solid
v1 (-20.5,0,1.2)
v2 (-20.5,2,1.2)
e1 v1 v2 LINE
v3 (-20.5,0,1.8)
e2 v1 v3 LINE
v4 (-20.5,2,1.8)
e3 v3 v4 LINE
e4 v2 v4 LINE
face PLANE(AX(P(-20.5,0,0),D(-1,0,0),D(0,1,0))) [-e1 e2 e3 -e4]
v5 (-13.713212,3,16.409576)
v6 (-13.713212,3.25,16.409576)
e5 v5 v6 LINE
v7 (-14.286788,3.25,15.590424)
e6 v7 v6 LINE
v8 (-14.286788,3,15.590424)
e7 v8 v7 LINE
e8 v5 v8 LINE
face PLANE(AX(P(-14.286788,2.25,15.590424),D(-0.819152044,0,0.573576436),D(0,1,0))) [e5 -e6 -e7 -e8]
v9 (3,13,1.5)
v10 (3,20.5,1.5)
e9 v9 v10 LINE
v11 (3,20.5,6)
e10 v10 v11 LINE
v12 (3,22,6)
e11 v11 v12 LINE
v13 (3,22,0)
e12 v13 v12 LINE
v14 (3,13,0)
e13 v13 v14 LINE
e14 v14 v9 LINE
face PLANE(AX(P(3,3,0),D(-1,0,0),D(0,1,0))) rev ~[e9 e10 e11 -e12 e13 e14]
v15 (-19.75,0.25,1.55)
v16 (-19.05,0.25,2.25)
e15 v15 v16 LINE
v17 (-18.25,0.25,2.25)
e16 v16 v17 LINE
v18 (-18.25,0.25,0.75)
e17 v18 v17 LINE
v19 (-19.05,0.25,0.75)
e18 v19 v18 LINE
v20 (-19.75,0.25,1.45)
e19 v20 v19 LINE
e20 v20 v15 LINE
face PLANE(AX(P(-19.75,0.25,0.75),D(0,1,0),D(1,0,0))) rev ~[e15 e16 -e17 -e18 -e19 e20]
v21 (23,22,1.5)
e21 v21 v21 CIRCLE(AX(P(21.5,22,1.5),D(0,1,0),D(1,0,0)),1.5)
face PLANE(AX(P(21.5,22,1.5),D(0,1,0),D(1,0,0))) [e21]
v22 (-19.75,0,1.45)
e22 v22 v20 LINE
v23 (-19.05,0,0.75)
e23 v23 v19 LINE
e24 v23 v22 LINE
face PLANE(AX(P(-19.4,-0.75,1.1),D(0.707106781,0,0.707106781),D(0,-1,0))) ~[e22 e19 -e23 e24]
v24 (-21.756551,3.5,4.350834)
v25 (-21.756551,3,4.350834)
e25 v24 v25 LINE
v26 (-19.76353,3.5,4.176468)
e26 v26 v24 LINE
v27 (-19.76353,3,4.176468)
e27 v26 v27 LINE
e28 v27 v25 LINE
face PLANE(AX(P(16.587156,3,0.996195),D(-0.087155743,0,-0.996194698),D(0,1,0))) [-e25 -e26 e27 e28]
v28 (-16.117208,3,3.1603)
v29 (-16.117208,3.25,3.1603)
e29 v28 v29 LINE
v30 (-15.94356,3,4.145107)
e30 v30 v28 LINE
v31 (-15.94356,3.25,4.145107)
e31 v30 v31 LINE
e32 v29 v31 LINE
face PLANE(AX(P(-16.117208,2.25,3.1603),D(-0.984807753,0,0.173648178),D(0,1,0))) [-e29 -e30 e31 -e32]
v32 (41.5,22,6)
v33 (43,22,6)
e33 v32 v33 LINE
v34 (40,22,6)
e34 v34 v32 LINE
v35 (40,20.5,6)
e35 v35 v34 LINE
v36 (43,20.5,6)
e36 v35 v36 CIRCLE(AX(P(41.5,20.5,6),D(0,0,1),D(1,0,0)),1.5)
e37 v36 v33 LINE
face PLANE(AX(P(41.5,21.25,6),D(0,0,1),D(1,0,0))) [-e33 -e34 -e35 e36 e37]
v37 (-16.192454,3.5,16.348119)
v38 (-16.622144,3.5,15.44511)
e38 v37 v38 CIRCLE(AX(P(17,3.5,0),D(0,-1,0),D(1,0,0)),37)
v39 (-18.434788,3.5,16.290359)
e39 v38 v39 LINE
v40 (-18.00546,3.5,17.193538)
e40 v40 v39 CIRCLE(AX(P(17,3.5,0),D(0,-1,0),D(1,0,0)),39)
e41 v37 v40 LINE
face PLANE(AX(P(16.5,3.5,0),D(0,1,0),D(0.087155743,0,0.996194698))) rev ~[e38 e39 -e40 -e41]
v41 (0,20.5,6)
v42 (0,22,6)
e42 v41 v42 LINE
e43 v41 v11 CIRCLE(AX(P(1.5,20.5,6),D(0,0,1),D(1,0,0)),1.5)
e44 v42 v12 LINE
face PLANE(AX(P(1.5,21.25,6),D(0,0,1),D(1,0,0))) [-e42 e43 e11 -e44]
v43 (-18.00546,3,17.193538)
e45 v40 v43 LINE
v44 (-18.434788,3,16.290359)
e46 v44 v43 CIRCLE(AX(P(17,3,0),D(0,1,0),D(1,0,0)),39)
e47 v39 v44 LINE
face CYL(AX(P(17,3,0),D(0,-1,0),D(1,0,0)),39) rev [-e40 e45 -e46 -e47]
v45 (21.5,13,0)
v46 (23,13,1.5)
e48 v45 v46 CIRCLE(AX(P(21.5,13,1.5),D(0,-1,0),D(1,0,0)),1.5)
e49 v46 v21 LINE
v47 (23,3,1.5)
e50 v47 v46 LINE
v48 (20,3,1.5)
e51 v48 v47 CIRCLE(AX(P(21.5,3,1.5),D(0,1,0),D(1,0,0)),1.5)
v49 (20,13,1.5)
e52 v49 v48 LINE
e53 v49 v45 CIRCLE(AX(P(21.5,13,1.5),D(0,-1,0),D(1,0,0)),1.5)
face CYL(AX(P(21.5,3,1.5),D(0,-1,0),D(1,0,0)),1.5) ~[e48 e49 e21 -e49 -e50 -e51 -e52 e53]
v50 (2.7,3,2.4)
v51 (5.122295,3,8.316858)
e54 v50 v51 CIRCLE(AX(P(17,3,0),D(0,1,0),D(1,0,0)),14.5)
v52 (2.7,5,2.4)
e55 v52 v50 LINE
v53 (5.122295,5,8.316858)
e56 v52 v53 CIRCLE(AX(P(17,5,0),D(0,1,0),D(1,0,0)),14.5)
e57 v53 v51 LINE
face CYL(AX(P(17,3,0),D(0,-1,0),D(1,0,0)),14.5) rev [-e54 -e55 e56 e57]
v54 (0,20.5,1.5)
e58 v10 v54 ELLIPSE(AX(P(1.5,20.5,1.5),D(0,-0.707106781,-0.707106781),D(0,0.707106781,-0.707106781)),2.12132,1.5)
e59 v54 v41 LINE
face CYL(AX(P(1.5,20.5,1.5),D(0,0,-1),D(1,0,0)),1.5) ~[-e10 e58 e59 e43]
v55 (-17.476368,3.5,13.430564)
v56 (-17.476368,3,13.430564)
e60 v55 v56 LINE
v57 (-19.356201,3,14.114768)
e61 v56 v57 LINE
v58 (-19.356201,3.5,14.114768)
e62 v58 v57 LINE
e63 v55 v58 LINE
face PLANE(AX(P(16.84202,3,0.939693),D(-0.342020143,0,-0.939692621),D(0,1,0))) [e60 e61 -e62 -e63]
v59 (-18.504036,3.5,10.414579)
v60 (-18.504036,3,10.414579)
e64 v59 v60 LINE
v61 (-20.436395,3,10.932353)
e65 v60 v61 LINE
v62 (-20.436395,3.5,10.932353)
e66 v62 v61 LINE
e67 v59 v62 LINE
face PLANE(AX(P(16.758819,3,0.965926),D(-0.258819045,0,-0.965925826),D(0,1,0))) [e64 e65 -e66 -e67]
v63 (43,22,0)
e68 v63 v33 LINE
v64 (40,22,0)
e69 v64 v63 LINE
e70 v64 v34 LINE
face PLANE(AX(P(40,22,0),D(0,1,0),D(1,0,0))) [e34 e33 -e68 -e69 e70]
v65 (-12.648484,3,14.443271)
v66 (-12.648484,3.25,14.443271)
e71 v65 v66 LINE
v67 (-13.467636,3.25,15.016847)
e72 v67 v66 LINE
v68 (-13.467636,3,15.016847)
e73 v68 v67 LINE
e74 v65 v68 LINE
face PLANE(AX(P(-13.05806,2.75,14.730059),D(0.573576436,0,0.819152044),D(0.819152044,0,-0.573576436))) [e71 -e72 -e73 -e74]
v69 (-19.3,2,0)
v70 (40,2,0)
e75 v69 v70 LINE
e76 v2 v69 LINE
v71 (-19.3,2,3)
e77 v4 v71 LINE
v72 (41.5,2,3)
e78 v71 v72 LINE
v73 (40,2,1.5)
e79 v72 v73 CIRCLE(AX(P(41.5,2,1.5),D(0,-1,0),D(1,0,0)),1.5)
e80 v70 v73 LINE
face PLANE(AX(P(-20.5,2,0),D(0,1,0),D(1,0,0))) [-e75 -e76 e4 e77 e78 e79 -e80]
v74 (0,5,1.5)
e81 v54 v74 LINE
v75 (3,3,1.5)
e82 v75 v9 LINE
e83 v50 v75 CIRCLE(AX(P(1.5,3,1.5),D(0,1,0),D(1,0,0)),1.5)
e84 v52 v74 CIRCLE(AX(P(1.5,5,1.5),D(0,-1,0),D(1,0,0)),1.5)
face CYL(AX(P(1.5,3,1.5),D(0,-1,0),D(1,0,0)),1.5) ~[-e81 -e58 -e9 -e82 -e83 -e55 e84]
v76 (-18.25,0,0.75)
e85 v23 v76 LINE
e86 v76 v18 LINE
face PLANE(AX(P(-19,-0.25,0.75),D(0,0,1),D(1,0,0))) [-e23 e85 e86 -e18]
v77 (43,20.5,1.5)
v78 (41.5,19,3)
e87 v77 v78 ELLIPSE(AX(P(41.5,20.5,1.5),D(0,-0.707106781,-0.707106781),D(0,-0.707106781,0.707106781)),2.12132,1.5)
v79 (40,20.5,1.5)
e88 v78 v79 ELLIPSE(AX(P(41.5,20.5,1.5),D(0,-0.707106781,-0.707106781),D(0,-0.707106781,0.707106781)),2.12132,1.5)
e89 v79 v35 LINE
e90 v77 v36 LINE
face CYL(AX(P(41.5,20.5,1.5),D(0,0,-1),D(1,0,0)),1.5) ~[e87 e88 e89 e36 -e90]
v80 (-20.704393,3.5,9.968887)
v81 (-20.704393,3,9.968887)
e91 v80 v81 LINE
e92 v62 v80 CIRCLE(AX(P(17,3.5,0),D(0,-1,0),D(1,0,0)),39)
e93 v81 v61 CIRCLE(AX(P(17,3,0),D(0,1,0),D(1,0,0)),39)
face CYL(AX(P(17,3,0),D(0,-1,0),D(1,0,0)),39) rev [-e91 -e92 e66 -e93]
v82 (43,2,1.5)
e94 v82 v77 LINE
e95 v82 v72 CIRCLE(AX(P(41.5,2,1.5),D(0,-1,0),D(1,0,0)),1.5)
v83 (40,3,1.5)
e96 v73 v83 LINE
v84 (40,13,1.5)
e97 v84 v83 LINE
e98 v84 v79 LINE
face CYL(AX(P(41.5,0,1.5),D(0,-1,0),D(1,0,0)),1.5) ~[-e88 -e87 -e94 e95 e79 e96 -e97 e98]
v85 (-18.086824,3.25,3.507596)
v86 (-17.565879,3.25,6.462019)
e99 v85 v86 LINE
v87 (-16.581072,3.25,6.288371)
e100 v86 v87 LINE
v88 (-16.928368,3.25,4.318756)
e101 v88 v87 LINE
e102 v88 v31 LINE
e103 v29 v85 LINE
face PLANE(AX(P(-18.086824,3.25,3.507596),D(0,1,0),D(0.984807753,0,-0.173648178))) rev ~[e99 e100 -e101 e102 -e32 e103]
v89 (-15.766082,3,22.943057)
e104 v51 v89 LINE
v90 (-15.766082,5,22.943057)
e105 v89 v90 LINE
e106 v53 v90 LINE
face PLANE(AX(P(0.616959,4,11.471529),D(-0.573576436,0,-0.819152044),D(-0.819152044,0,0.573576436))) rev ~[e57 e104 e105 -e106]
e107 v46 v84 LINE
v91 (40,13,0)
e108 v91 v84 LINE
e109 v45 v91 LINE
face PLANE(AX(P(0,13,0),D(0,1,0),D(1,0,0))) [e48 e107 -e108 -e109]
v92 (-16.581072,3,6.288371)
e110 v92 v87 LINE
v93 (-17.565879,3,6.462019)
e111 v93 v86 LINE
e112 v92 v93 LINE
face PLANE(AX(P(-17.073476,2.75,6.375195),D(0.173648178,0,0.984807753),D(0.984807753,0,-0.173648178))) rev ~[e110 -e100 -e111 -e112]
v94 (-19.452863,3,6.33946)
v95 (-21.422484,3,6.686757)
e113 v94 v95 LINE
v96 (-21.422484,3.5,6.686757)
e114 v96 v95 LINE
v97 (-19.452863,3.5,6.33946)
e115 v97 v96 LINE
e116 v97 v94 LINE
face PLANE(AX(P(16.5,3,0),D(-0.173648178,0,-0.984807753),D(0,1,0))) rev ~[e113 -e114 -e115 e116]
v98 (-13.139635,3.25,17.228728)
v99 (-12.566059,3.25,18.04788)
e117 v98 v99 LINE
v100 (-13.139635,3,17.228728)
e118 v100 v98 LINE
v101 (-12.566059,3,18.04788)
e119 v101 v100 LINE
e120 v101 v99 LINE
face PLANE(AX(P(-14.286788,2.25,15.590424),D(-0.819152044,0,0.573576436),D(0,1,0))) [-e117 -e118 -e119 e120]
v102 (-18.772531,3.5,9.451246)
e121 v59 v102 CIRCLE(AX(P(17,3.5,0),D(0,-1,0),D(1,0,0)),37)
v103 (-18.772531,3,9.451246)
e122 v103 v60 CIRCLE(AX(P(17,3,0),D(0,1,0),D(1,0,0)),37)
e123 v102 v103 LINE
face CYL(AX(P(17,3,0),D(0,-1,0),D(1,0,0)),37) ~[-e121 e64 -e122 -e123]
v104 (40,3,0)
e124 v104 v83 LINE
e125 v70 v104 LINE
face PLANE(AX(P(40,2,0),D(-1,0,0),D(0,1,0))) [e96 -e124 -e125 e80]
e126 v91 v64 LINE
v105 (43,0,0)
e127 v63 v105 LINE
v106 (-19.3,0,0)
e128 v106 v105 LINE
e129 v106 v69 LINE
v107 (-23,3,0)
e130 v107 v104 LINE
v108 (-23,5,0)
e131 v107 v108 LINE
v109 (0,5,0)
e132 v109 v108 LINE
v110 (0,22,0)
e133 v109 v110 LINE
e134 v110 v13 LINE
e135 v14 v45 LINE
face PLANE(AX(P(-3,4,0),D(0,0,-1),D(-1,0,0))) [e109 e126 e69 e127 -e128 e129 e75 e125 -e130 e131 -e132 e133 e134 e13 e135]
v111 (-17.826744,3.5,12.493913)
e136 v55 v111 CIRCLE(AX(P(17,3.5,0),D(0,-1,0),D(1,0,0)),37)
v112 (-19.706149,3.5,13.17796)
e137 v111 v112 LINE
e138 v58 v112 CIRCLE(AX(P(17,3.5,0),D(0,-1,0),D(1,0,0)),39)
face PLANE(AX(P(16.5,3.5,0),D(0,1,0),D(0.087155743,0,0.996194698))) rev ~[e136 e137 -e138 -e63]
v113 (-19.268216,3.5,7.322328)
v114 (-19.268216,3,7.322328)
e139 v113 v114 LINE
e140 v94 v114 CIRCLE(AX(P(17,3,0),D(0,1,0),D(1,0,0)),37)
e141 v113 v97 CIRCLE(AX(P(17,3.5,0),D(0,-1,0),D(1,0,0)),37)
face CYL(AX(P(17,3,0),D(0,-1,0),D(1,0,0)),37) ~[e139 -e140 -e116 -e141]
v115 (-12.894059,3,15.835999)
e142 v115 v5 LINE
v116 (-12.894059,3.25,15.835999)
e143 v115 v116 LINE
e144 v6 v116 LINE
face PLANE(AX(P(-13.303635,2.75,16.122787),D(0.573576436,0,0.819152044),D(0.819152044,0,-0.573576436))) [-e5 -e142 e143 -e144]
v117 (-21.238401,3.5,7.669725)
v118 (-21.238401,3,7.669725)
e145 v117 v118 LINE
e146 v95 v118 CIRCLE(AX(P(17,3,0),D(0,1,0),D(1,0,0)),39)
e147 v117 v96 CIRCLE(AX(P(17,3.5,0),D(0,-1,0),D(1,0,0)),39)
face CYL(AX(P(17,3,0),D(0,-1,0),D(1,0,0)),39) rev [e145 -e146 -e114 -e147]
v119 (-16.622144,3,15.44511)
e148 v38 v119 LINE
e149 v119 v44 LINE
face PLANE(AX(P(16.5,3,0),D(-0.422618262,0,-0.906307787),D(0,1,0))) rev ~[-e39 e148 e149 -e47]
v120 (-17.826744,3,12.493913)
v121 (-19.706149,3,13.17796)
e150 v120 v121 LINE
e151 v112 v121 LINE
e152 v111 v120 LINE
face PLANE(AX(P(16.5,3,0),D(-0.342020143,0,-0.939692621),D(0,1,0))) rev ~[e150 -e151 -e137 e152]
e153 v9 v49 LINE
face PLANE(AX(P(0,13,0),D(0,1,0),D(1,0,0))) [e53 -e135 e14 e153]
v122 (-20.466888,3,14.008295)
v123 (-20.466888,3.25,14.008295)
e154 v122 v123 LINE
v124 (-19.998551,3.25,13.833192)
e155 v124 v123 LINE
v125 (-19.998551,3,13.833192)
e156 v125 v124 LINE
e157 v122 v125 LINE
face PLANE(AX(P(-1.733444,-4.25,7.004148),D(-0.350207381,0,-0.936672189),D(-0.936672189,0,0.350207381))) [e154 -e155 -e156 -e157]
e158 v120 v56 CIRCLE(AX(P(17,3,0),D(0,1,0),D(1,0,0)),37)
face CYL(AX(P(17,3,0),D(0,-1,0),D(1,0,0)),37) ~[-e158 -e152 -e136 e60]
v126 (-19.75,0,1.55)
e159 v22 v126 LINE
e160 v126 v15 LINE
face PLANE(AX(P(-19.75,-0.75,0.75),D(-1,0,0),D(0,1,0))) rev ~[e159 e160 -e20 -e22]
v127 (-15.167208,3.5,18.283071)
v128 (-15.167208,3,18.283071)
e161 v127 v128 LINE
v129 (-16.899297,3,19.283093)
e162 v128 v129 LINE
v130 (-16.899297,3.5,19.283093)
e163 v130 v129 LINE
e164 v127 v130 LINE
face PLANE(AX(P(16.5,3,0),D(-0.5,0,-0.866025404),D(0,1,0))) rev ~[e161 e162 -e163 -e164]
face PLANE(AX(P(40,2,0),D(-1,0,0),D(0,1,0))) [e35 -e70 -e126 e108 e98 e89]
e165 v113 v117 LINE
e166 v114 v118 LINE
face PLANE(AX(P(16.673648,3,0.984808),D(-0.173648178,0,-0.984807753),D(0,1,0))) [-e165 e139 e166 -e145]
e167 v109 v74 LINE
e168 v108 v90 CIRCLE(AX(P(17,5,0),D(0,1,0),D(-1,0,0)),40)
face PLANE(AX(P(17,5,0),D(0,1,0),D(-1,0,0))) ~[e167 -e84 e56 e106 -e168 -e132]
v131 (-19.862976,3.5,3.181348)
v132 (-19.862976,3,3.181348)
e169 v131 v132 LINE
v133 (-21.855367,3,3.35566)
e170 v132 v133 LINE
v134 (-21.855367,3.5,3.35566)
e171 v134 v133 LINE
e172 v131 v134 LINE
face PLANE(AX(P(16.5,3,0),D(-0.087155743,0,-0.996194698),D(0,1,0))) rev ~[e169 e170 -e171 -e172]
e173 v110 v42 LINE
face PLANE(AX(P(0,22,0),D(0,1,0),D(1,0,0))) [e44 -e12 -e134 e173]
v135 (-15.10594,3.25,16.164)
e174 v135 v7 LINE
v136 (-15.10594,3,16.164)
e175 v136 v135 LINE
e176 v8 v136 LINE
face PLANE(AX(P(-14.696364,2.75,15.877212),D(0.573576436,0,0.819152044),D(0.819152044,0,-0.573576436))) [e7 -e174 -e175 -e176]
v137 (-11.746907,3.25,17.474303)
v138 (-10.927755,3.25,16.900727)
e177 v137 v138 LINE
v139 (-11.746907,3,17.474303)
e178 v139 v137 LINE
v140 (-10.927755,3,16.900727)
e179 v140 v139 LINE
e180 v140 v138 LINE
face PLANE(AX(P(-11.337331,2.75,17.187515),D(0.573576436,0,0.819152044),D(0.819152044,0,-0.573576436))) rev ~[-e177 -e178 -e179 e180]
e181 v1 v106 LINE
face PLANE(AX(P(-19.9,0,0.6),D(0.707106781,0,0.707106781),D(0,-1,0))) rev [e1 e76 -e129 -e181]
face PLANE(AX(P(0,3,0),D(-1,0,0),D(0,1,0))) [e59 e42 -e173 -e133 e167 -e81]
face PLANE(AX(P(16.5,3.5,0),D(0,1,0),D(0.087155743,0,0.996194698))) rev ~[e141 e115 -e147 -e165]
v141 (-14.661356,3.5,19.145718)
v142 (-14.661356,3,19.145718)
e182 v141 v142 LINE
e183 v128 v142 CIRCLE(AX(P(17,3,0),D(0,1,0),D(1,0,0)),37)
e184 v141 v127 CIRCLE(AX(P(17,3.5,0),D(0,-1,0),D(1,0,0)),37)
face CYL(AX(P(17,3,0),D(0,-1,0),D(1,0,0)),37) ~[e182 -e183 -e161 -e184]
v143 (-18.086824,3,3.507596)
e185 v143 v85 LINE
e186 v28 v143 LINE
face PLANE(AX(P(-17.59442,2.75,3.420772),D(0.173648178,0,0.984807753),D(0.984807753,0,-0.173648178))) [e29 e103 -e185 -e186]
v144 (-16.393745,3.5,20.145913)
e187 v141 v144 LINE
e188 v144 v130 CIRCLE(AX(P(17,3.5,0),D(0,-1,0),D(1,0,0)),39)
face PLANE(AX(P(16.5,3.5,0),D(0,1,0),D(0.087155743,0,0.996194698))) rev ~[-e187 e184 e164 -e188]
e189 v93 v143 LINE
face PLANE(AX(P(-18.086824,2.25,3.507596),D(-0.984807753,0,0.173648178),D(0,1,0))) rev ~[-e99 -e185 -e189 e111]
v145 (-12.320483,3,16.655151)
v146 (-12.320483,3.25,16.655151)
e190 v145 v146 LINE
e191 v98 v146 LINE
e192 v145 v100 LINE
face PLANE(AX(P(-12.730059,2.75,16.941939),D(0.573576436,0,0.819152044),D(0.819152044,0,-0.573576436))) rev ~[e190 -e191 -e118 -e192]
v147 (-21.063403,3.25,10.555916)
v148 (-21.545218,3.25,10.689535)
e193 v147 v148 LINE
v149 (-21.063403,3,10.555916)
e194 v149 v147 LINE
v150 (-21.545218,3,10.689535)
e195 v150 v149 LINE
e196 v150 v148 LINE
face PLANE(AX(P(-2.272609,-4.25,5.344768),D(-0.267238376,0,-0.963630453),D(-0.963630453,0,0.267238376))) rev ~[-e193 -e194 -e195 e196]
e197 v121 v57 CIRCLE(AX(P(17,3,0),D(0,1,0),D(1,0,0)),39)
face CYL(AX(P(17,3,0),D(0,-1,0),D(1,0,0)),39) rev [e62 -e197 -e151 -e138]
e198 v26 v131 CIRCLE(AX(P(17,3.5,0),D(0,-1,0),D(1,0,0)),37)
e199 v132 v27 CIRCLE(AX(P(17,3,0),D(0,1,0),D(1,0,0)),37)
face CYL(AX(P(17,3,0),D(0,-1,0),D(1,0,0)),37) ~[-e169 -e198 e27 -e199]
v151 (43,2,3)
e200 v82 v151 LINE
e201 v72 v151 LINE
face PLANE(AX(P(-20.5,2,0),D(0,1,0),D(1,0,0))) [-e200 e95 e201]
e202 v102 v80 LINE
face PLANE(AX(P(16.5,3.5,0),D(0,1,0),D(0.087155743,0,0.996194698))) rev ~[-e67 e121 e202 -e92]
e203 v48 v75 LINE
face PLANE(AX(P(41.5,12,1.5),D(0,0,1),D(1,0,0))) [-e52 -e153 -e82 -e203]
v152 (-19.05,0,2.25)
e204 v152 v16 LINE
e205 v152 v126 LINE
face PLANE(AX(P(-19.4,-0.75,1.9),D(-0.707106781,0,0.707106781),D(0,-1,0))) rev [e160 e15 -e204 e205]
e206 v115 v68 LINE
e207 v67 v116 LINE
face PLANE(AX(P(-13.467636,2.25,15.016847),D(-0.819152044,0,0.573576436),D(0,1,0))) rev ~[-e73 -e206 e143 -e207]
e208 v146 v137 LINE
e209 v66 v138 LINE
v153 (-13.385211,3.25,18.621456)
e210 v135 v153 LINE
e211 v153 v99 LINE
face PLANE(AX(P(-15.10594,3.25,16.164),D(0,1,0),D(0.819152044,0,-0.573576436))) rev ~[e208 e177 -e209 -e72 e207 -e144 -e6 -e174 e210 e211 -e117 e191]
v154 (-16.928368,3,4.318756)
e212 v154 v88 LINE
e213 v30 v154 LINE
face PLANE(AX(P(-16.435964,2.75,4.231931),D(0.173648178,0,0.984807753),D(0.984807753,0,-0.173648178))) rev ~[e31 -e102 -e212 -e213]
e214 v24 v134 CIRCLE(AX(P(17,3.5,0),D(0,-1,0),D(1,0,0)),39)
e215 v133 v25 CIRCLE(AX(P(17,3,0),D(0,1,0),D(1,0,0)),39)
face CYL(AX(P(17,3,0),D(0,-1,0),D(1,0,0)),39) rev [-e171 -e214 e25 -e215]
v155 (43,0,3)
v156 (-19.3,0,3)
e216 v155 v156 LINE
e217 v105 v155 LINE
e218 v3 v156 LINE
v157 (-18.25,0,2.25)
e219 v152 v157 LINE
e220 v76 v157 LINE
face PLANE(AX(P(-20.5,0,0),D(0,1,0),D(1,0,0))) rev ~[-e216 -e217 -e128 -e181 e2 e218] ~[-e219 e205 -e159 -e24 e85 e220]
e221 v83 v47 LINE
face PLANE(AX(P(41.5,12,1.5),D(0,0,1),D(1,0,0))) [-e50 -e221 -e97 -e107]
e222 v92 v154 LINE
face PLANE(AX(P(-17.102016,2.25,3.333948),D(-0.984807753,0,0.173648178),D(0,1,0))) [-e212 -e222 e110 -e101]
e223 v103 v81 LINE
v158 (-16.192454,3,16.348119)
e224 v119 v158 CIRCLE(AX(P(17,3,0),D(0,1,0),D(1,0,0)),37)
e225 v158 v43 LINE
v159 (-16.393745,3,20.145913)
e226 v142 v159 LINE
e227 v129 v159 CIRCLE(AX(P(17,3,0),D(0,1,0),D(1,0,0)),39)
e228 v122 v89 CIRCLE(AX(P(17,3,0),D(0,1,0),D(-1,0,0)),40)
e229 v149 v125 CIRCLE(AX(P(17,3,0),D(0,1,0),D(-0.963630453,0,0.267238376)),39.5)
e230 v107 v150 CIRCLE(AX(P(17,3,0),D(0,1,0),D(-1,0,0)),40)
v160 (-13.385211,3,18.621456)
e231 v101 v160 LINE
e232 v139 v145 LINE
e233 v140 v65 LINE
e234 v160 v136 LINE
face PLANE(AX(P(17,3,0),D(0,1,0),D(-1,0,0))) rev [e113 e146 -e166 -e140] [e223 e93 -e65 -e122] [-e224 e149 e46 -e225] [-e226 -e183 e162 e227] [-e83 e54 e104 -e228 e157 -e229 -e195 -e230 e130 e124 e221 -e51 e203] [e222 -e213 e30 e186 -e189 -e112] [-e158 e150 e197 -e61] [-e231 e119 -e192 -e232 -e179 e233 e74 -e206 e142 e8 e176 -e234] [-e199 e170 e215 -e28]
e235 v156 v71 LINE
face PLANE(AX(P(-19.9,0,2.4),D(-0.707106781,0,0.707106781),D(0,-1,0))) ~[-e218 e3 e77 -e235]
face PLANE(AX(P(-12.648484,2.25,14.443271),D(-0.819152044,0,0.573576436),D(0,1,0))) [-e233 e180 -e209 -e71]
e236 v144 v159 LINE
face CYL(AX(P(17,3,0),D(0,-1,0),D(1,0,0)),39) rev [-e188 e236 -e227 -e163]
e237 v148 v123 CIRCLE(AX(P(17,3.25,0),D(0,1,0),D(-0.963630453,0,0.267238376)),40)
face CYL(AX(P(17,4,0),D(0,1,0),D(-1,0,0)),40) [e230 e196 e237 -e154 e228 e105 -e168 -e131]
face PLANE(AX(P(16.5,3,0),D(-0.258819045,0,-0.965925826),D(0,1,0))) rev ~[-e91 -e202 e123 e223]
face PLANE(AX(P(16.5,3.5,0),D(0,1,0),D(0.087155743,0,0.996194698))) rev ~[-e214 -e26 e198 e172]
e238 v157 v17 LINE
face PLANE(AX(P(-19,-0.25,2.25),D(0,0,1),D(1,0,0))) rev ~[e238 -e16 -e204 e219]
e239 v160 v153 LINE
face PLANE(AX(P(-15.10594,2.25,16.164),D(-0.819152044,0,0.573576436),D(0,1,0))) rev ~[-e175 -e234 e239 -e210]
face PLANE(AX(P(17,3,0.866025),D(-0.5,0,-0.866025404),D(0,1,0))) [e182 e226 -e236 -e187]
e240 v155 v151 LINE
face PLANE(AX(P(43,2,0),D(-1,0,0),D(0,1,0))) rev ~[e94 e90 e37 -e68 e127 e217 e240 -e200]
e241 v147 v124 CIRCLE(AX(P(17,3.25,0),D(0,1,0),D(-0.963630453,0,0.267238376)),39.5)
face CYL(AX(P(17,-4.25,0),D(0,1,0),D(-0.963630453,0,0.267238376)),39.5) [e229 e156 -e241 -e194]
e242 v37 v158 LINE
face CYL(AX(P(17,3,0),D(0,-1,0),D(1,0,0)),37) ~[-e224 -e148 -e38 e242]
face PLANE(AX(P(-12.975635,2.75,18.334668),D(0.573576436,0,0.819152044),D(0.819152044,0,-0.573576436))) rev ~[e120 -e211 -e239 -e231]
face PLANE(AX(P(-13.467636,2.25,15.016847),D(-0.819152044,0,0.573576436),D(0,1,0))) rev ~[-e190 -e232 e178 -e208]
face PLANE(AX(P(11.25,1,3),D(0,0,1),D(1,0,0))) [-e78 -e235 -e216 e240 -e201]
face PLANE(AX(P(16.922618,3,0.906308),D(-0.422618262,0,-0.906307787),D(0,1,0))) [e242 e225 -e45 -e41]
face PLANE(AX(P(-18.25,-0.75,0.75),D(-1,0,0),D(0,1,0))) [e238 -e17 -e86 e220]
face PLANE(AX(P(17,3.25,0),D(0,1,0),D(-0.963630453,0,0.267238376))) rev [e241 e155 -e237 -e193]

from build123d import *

# Parameters (mm, degrees)
BOX018_W                    = 1.5
BOX018_H                    = 1
BOX018_DEPTH                = 1.5
CHAMFER001_SIZE             = 0.7
CYLINDER009_W               = 39.5
CYLINDER009_H               = 15
CYLINDER009_ANGLE           = 5
CYLINDER009_ROLL_ANGLE      = 90
CYLINDER009_PITCH_ANGLE     = -15.5
CYLINDER009_PLACEMENT_ANGLE = 180
CYLINDER010_W               = 40
CYLINDER010_H               = 15
CYLINDER010_ANGLE           = 5
CYLINDER010_ROLL_ANGLE      = 90
CYLINDER010_PITCH_ANGLE     = -15.5
CYLINDER010_PLACEMENT_ANGLE = 180
BOX016_W                    = 1
BOX016_H                    = 1
BOX016_DEPTH                = 3
BOX017_W                    = 1
BOX017_H                    = 1
BOX017_DEPTH                = 1
FUSION003_PLACEMENT_ANGLE   = 10
BOX014_W                    = 1
BOX014_H                    = 1
BOX014_DEPTH                = 3
BOX013_W                    = 1
BOX013_H                    = 1
BOX013_DEPTH                = 3
BOX015_W                    = 1
BOX015_H                    = 1
BOX015_DEPTH                = 1
FUSION002_PLACEMENT_ANGLE   = 35
BOX001_W                    = 43
BOX001_H                    = 10
BOX001_DEPTH                = 1.5
BOX002_W                    = 3
BOX002_H                    = 20
BOX002_DEPTH                = 1.5
CYLINDER007_R               = 37
CYLINDER007_DEPTH           = 15
CYLINDER008_R               = 39
CYLINDER008_DEPTH           = 15
BOX011_W                    = 1
BOX011_H                    = 0.5
BOX011_DEPTH                = 63
BOX011_PLACEMENT_ANGLE      = 65
BOX010_W                    = 1
BOX010_H                    = 0.5
BOX010_DEPTH                = 63
BOX010_PLACEMENT_ANGLE      = 70
BOX009_W                    = 1
BOX009_H                    = 0.5
BOX009_DEPTH                = 63
BOX009_PLACEMENT_ANGLE      = 75
BOX008_W                    = 1
BOX008_H                    = 0.5
BOX008_DEPTH                = 63
BOX008_PLACEMENT_ANGLE      = 80
BOX007_W                    = 1
BOX007_H                    = 0.5
BOX007_DEPTH                = 63
BOX007_PLACEMENT_ANGLE      = 85
BOX012_W                    = 1
BOX012_H                    = 0.5
BOX012_DEPTH                = 63
BOX012_PLACEMENT_ANGLE      = 60
CYLINDER001_R               = 14.5
CYLINDER001_DEPTH           = 2
CYLINDER_W                  = 40
CYLINDER_H                  = 2
CYLINDER_ANGLE              = 35
CYLINDER003_R               = 1.5
CYLINDER003_DEPTH           = 4.5
BOX003_W                    = 3
BOX003_H                    = 19
BOX003_DEPTH                = 1.5
CYLINDER004_R               = 1.5
CYLINDER004_DEPTH           = 19
BOX004_W                    = 3
BOX004_H                    = 1.5
BOX004_DEPTH                = 6
CYLINDER005_R               = 1.5
CYLINDER005_DEPTH           = 22
BOX005_W                    = 3
BOX005_H                    = 1.5
BOX005_DEPTH                = 6
CYLINDER006_R               = 1.5
CYLINDER006_DEPTH           = 4.5
CYLINDER002_R               = 1.5
CYLINDER002_DEPTH           = 19
BOX_W                       = 63.5
BOX_H                       = 2
BOX_DEPTH                   = 3
CHAMFER_SIZE                = 1.2


with BuildPart() as chamfer001:
    # Box018 → Box018 (new body)
    with BuildSketch(Plane(origin=(-19.75, -1, 0.75), x_dir=(1, 0, 0), z_dir=(0, 0, 1))):
        with Locations((0.75, 0.5)):
            Rectangle(BOX018_W, BOX018_H)
    extrude(amount=BOX018_DEPTH)

    # Chamfer001
    chamfer001_edges = [chamfer001.edges().sort_by_distance(p)[0] for p in [
        (-19.75, -0.5, 2.25),
        (-19.75, -0.5, 0.75),
    ]]
    chamfer(chamfer001_edges, length=CHAMFER001_SIZE)


with BuildPart() as chamfer001_1:
    # Chamfer001 placement: moved
    add(chamfer001.part.moved(Location((0, 0.25, 0))))


with BuildPart() as cylinder009:
    # Cylinder009 → Cylinder009 (revolve)
    with BuildSketch(Plane.XZ):
        with Locations((19.75, 7.5)):
            Rectangle(CYLINDER009_W, CYLINDER009_H)
    revolve(axis=Axis((0, 0, 0), (0, 0, 1)), revolution_arc=CYLINDER009_ANGLE)


with BuildPart() as cylinder009_1:
    # Cylinder009 roll: moved
    add(cylinder009.part.rotate(Axis((0, 0, 0), (1, 0, 0)), CYLINDER009_ROLL_ANGLE))


with BuildPart() as cylinder009_2:
    # Cylinder009 pitch: moved
    add(cylinder009_1.part.rotate(Axis((0, 0, 0), (0, 1, 0)), CYLINDER009_PITCH_ANGLE))


with BuildPart() as cylinder009_3:
    # Cylinder009 placement: moved
    add(cylinder009_2.part.moved(Location((17, 3, 0))).rotate(Axis((17, 3, 0), (0, 0, 1)), CYLINDER009_PLACEMENT_ANGLE))


with BuildPart() as cut004:
    # Cylinder010 → Cylinder010 (revolve)
    with BuildSketch(Plane.XZ):
        with Locations((20, 7.5)):
            Rectangle(CYLINDER010_W, CYLINDER010_H)
    revolve(axis=Axis((0, 0, 0), (0, 0, 1)), revolution_arc=CYLINDER010_ANGLE)


with BuildPart() as cut004_1:
    # Cylinder010 roll: moved
    add(cut004.part.rotate(Axis((0, 0, 0), (1, 0, 0)), CYLINDER010_ROLL_ANGLE))


with BuildPart() as cut004_2:
    # Cylinder010 pitch: moved
    add(cut004_1.part.rotate(Axis((0, 0, 0), (0, 1, 0)), CYLINDER010_PITCH_ANGLE))


with BuildPart() as cut004_3:
    # Cylinder010 placement: moved
    add(cut004_2.part.moved(Location((17, 3, 0))).rotate(Axis((17, 3, 0), (0, 0, 1)), CYLINDER010_PLACEMENT_ANGLE))

    # Cut004: cut Cylinder009
    add(cylinder009_3.part, mode=Mode.SUBTRACT)


with BuildPart() as cut004_4:
    # Cut004 placement: moved
    add(cut004_3.part.moved(Location((0, -14.75, 0))))


with BuildPart() as cube016:
    # Box016 → Box016 (new body)
    with BuildSketch(Plane.XY):
        with Locations((0.5, 0.5)):
            Rectangle(BOX016_W, BOX016_H)
    extrude(amount=BOX016_DEPTH)


with BuildPart() as fusion003:
    # Box017 → Box017 (new body)
    with BuildSketch(Plane(origin=(1, 0, 0), x_dir=(1, 0, 0), z_dir=(0, 0, 1))):
        with Locations((0.5, 0.5)):
            Rectangle(BOX017_W, BOX017_H)
    extrude(amount=BOX017_DEPTH)

    # Fusion003: union Cube016
    add(cube016.part)


with BuildPart() as fusion003_1:
    # Fusion003 placement: moved
    add(fusion003.part.moved(Location((-18.086824, 0, 3.507596))).rotate(Axis((-18.086824, 0, 3.507596), (0, 1, 0)), FUSION003_PLACEMENT_ANGLE))


with BuildPart() as cube014:
    # Box014 → Box014 (new body)
    with BuildSketch(Plane(origin=(2, 0, 0), x_dir=(1, 0, 0), z_dir=(0, 0, 1))):
        with Locations((0.5, 0.5)):
            Rectangle(BOX014_W, BOX014_H)
    extrude(amount=BOX014_DEPTH)


with BuildPart() as cube013:
    # Box013 → Box013 (new body)
    with BuildSketch(Plane.XY):
        with Locations((0.5, 0.5)):
            Rectangle(BOX013_W, BOX013_H)
    extrude(amount=BOX013_DEPTH)


with BuildPart() as fusion004:
    # Box015 → Box015 (new body)
    with BuildSketch(Plane(origin=(1, 0, 1), x_dir=(1, 0, 0), z_dir=(0, 0, 1))):
        with Locations((0.5, 0.5)):
            Rectangle(BOX015_W, BOX015_H)
    extrude(amount=BOX015_DEPTH)

    # Fusion002: union Cube014, Cube013
    add(cube014.part)
    add(cube013.part)


with BuildPart() as fusion004_1:
    # Fusion002 placement: moved
    add(fusion004.part.moved(Location((-15.10594, 0, 16.164))).rotate(Axis((-15.10594, 0, 16.164), (0, 1, 0)), FUSION002_PLACEMENT_ANGLE))

    # Fusion004: union Fusion003
    add(fusion003_1.part)


with BuildPart() as fusion004_2:
    # Fusion004 placement: moved
    add(fusion004_1.part.moved(Location((0, 2.25, 0))))


with BuildPart() as cube001:
    # Box001 → Box001 (new body)
    with BuildSketch(Plane(origin=(0, 3, 0), x_dir=(1, 0, 0), z_dir=(0, 0, 1))):
        with Locations((21.5, 5)):
            Rectangle(BOX001_W, BOX001_H)
    extrude(amount=BOX001_DEPTH)


with BuildPart() as cube002:
    # Box002 → Box002 (new body)
    with BuildSketch(Plane(origin=(40, 2, 0), x_dir=(1, 0, 0), z_dir=(0, 0, 1))):
        with Locations((1.5, 10)):
            Rectangle(BOX002_W, BOX002_H)
    extrude(amount=BOX002_DEPTH)


with BuildPart() as cylinder007:
    # Cylinder007 → Cylinder007 (new body)
    with BuildSketch(Plane(origin=(17, 3, 0), x_dir=(1, 0, 0), z_dir=(0, 1, 0))):
        Circle(CYLINDER007_R)
    extrude(amount=CYLINDER007_DEPTH)


with BuildPart() as cylinder008:
    # Cylinder008 → Cylinder008 (new body)
    with BuildSketch(Plane(origin=(17, 3, 0), x_dir=(1, 0, 0), z_dir=(0, 1, 0))):
        Circle(CYLINDER008_R)
    extrude(amount=CYLINDER008_DEPTH)


with BuildPart() as cube011:
    # Box011 → Box011 (new body)
    with BuildSketch(Plane.XY):
        with Locations((0.5, 0.25)):
            Rectangle(BOX011_W, BOX011_H)
    extrude(amount=BOX011_DEPTH)


with BuildPart() as cube011_1:
    # Box011 placement: moved
    add(cube011.part.moved(Location((16.5, 3, 0))).rotate(Axis((16.5, 3, 0), (0, -1, 0)), BOX011_PLACEMENT_ANGLE))


with BuildPart() as cube010:
    # Box010 → Box010 (new body)
    with BuildSketch(Plane.XY):
        with Locations((0.5, 0.25)):
            Rectangle(BOX010_W, BOX010_H)
    extrude(amount=BOX010_DEPTH)


with BuildPart() as cube010_1:
    # Box010 placement: moved
    add(cube010.part.moved(Location((16.5, 3, 0))).rotate(Axis((16.5, 3, 0), (0, -1, 0)), BOX010_PLACEMENT_ANGLE))


with BuildPart() as cube009:
    # Box009 → Box009 (new body)
    with BuildSketch(Plane.XY):
        with Locations((0.5, 0.25)):
            Rectangle(BOX009_W, BOX009_H)
    extrude(amount=BOX009_DEPTH)


with BuildPart() as cube009_1:
    # Box009 placement: moved
    add(cube009.part.moved(Location((16.5, 3, 0))).rotate(Axis((16.5, 3, 0), (0, -1, 0)), BOX009_PLACEMENT_ANGLE))


with BuildPart() as cube008:
    # Box008 → Box008 (new body)
    with BuildSketch(Plane.XY):
        with Locations((0.5, 0.25)):
            Rectangle(BOX008_W, BOX008_H)
    extrude(amount=BOX008_DEPTH)


with BuildPart() as cube008_1:
    # Box008 placement: moved
    add(cube008.part.moved(Location((16.5, 3, 0))).rotate(Axis((16.5, 3, 0), (0, -1, 0)), BOX008_PLACEMENT_ANGLE))


with BuildPart() as cube007:
    # Box007 → Box007 (new body)
    with BuildSketch(Plane.XY):
        with Locations((0.5, 0.25)):
            Rectangle(BOX007_W, BOX007_H)
    extrude(amount=BOX007_DEPTH)


with BuildPart() as cube007_1:
    # Box007 placement: moved
    add(cube007.part.moved(Location((16.5, 3, 0))).rotate(Axis((16.5, 3, 0), (0, -1, 0)), BOX007_PLACEMENT_ANGLE))


with BuildPart() as cut001:
    # Box012 → Box012 (new body)
    with BuildSketch(Plane.XY):
        with Locations((0.5, 0.25)):
            Rectangle(BOX012_W, BOX012_H)
    extrude(amount=BOX012_DEPTH)


with BuildPart() as cut001_1:
    # Box012 placement: moved
    add(cut001.part.moved(Location((16.5, 3, 0))).rotate(Axis((16.5, 3, 0), (0, -1, 0)), BOX012_PLACEMENT_ANGLE))

    # Fusion: union Cube011, Cube010, Cube009, Cube008, Cube007
    add(cube011_1.part)
    add(cube010_1.part)
    add(cube009_1.part)
    add(cube008_1.part)
    add(cube007_1.part)

    # Common: intersect Cylinder008
    add(cylinder008.part, mode=Mode.INTERSECT)

    # Cut001: cut Cylinder007
    add(cylinder007.part, mode=Mode.SUBTRACT)


with BuildPart() as cylinder001:
    # Cylinder001 → Cylinder001 (new body)
    with BuildSketch(Plane(origin=(17, 3, 0), x_dir=(1, 0, 0), z_dir=(0, 1, 0))):
        Circle(CYLINDER001_R)
    extrude(amount=CYLINDER001_DEPTH)


with BuildPart() as cut002:
    # Cylinder → Cylinder (revolve)
    with BuildSketch(Plane(origin=(17, 3, 0), x_dir=(-1, 0, 0), z_dir=(0, 0, -1))):
        with Locations((20, 1)):
            Rectangle(CYLINDER_W, CYLINDER_H)
    revolve(axis=Axis((17, 3, 0), (0, 1, 0)), revolution_arc=CYLINDER_ANGLE)

    # Cut: cut Cylinder001
    add(cylinder001.part, mode=Mode.SUBTRACT)

    # Cut002: cut Cut001
    add(cut001_1.part, mode=Mode.SUBTRACT)


with BuildPart() as cylinder003:
    # Cylinder003 → Cylinder003 (new body)
    with BuildSketch(Plane(origin=(1.5, 20.5, 1.5), x_dir=(1, 0, 0), z_dir=(0, 0, 1))):
        Circle(CYLINDER003_R)
    extrude(amount=CYLINDER003_DEPTH)


with BuildPart() as cube003:
    # Box003 → Box003 (new body)
    with BuildSketch(Plane(origin=(0, 3, 0), x_dir=(1, 0, 0), z_dir=(0, 0, 1))):
        with Locations((1.5, 9.5)):
            Rectangle(BOX003_W, BOX003_H)
    extrude(amount=BOX003_DEPTH)


with BuildPart() as cylinder004:
    # Cylinder004 → Cylinder004 (new body)
    with BuildSketch(Plane(origin=(21.5, 3, 1.5), x_dir=(1, 0, 0), z_dir=(0, 1, 0))):
        Circle(CYLINDER004_R)
    extrude(amount=CYLINDER004_DEPTH)


with BuildPart() as cube004:
    # Box004 → Box004 (new body)
    with BuildSketch(Plane(origin=(0, 20.5, 0), x_dir=(1, 0, 0), z_dir=(0, 0, 1))):
        with Locations((1.5, 0.75)):
            Rectangle(BOX004_W, BOX004_H)
    extrude(amount=BOX004_DEPTH)


with BuildPart() as cylinder005:
    # Cylinder005 → Cylinder005 (new body)
    with BuildSketch(Plane(origin=(41.5, 0, 1.5), x_dir=(1, 0, 0), z_dir=(0, 1, 0))):
        Circle(CYLINDER005_R)
    extrude(amount=CYLINDER005_DEPTH)


with BuildPart() as cube005:
    # Box005 → Box005 (new body)
    with BuildSketch(Plane(origin=(40, 20.5, 0), x_dir=(1, 0, 0), z_dir=(0, 0, 1))):
        with Locations((1.5, 0.75)):
            Rectangle(BOX005_W, BOX005_H)
    extrude(amount=BOX005_DEPTH)


with BuildPart() as cylinder006:
    # Cylinder006 → Cylinder006 (new body)
    with BuildSketch(Plane(origin=(41.5, 20.5, 1.5), x_dir=(1, 0, 0), z_dir=(0, 0, 1))):
        Circle(CYLINDER006_R)
    extrude(amount=CYLINDER006_DEPTH)


with BuildPart() as cylinder002:
    # Cylinder002 → Cylinder002 (new body)
    with BuildSketch(Plane(origin=(1.5, 3, 1.5), x_dir=(1, 0, 0), z_dir=(0, 1, 0))):
        Circle(CYLINDER002_R)
    extrude(amount=CYLINDER002_DEPTH)


with BuildPart() as cut006:
    # Box → Box (new body)
    with BuildSketch(Plane(origin=(-20.5, 0, 0), x_dir=(1, 0, 0), z_dir=(0, 0, 1))):
        with Locations((31.75, 1)):
            Rectangle(BOX_W, BOX_H)
    extrude(amount=BOX_DEPTH)

    # Chamfer
    chamfer_edges = [cut006.edges().sort_by_distance(p)[0] for p in [
        (-20.5, 1, 3),
        (-20.5, 1, 0),
    ]]
    chamfer(chamfer_edges, length=CHAMFER_SIZE)

    # Fusion001: union Cube001, Cube002, Cut002, Cylinder003, Cube003, Cylinder004, Cube004, Cylinder005, Cube005, Cylinder006, Cylinder002
    add(cube001.part)
    add(cube002.part)
    add(cut002.part)
    add(cylinder003.part)
    add(cube003.part)
    add(cylinder004.part)
    add(cube004.part)
    add(cylinder005.part)
    add(cube005.part)
    add(cylinder006.part)
    add(cylinder002.part)

    # Cut003: cut Fusion004
    add(fusion004_2.part, mode=Mode.SUBTRACT)

    # Cut005: cut Cut004
    add(cut004_4.part, mode=Mode.SUBTRACT)

    # Cut006: cut Chamfer001
    add(chamfer001_1.part, mode=Mode.SUBTRACT)


solid = cut006.part
